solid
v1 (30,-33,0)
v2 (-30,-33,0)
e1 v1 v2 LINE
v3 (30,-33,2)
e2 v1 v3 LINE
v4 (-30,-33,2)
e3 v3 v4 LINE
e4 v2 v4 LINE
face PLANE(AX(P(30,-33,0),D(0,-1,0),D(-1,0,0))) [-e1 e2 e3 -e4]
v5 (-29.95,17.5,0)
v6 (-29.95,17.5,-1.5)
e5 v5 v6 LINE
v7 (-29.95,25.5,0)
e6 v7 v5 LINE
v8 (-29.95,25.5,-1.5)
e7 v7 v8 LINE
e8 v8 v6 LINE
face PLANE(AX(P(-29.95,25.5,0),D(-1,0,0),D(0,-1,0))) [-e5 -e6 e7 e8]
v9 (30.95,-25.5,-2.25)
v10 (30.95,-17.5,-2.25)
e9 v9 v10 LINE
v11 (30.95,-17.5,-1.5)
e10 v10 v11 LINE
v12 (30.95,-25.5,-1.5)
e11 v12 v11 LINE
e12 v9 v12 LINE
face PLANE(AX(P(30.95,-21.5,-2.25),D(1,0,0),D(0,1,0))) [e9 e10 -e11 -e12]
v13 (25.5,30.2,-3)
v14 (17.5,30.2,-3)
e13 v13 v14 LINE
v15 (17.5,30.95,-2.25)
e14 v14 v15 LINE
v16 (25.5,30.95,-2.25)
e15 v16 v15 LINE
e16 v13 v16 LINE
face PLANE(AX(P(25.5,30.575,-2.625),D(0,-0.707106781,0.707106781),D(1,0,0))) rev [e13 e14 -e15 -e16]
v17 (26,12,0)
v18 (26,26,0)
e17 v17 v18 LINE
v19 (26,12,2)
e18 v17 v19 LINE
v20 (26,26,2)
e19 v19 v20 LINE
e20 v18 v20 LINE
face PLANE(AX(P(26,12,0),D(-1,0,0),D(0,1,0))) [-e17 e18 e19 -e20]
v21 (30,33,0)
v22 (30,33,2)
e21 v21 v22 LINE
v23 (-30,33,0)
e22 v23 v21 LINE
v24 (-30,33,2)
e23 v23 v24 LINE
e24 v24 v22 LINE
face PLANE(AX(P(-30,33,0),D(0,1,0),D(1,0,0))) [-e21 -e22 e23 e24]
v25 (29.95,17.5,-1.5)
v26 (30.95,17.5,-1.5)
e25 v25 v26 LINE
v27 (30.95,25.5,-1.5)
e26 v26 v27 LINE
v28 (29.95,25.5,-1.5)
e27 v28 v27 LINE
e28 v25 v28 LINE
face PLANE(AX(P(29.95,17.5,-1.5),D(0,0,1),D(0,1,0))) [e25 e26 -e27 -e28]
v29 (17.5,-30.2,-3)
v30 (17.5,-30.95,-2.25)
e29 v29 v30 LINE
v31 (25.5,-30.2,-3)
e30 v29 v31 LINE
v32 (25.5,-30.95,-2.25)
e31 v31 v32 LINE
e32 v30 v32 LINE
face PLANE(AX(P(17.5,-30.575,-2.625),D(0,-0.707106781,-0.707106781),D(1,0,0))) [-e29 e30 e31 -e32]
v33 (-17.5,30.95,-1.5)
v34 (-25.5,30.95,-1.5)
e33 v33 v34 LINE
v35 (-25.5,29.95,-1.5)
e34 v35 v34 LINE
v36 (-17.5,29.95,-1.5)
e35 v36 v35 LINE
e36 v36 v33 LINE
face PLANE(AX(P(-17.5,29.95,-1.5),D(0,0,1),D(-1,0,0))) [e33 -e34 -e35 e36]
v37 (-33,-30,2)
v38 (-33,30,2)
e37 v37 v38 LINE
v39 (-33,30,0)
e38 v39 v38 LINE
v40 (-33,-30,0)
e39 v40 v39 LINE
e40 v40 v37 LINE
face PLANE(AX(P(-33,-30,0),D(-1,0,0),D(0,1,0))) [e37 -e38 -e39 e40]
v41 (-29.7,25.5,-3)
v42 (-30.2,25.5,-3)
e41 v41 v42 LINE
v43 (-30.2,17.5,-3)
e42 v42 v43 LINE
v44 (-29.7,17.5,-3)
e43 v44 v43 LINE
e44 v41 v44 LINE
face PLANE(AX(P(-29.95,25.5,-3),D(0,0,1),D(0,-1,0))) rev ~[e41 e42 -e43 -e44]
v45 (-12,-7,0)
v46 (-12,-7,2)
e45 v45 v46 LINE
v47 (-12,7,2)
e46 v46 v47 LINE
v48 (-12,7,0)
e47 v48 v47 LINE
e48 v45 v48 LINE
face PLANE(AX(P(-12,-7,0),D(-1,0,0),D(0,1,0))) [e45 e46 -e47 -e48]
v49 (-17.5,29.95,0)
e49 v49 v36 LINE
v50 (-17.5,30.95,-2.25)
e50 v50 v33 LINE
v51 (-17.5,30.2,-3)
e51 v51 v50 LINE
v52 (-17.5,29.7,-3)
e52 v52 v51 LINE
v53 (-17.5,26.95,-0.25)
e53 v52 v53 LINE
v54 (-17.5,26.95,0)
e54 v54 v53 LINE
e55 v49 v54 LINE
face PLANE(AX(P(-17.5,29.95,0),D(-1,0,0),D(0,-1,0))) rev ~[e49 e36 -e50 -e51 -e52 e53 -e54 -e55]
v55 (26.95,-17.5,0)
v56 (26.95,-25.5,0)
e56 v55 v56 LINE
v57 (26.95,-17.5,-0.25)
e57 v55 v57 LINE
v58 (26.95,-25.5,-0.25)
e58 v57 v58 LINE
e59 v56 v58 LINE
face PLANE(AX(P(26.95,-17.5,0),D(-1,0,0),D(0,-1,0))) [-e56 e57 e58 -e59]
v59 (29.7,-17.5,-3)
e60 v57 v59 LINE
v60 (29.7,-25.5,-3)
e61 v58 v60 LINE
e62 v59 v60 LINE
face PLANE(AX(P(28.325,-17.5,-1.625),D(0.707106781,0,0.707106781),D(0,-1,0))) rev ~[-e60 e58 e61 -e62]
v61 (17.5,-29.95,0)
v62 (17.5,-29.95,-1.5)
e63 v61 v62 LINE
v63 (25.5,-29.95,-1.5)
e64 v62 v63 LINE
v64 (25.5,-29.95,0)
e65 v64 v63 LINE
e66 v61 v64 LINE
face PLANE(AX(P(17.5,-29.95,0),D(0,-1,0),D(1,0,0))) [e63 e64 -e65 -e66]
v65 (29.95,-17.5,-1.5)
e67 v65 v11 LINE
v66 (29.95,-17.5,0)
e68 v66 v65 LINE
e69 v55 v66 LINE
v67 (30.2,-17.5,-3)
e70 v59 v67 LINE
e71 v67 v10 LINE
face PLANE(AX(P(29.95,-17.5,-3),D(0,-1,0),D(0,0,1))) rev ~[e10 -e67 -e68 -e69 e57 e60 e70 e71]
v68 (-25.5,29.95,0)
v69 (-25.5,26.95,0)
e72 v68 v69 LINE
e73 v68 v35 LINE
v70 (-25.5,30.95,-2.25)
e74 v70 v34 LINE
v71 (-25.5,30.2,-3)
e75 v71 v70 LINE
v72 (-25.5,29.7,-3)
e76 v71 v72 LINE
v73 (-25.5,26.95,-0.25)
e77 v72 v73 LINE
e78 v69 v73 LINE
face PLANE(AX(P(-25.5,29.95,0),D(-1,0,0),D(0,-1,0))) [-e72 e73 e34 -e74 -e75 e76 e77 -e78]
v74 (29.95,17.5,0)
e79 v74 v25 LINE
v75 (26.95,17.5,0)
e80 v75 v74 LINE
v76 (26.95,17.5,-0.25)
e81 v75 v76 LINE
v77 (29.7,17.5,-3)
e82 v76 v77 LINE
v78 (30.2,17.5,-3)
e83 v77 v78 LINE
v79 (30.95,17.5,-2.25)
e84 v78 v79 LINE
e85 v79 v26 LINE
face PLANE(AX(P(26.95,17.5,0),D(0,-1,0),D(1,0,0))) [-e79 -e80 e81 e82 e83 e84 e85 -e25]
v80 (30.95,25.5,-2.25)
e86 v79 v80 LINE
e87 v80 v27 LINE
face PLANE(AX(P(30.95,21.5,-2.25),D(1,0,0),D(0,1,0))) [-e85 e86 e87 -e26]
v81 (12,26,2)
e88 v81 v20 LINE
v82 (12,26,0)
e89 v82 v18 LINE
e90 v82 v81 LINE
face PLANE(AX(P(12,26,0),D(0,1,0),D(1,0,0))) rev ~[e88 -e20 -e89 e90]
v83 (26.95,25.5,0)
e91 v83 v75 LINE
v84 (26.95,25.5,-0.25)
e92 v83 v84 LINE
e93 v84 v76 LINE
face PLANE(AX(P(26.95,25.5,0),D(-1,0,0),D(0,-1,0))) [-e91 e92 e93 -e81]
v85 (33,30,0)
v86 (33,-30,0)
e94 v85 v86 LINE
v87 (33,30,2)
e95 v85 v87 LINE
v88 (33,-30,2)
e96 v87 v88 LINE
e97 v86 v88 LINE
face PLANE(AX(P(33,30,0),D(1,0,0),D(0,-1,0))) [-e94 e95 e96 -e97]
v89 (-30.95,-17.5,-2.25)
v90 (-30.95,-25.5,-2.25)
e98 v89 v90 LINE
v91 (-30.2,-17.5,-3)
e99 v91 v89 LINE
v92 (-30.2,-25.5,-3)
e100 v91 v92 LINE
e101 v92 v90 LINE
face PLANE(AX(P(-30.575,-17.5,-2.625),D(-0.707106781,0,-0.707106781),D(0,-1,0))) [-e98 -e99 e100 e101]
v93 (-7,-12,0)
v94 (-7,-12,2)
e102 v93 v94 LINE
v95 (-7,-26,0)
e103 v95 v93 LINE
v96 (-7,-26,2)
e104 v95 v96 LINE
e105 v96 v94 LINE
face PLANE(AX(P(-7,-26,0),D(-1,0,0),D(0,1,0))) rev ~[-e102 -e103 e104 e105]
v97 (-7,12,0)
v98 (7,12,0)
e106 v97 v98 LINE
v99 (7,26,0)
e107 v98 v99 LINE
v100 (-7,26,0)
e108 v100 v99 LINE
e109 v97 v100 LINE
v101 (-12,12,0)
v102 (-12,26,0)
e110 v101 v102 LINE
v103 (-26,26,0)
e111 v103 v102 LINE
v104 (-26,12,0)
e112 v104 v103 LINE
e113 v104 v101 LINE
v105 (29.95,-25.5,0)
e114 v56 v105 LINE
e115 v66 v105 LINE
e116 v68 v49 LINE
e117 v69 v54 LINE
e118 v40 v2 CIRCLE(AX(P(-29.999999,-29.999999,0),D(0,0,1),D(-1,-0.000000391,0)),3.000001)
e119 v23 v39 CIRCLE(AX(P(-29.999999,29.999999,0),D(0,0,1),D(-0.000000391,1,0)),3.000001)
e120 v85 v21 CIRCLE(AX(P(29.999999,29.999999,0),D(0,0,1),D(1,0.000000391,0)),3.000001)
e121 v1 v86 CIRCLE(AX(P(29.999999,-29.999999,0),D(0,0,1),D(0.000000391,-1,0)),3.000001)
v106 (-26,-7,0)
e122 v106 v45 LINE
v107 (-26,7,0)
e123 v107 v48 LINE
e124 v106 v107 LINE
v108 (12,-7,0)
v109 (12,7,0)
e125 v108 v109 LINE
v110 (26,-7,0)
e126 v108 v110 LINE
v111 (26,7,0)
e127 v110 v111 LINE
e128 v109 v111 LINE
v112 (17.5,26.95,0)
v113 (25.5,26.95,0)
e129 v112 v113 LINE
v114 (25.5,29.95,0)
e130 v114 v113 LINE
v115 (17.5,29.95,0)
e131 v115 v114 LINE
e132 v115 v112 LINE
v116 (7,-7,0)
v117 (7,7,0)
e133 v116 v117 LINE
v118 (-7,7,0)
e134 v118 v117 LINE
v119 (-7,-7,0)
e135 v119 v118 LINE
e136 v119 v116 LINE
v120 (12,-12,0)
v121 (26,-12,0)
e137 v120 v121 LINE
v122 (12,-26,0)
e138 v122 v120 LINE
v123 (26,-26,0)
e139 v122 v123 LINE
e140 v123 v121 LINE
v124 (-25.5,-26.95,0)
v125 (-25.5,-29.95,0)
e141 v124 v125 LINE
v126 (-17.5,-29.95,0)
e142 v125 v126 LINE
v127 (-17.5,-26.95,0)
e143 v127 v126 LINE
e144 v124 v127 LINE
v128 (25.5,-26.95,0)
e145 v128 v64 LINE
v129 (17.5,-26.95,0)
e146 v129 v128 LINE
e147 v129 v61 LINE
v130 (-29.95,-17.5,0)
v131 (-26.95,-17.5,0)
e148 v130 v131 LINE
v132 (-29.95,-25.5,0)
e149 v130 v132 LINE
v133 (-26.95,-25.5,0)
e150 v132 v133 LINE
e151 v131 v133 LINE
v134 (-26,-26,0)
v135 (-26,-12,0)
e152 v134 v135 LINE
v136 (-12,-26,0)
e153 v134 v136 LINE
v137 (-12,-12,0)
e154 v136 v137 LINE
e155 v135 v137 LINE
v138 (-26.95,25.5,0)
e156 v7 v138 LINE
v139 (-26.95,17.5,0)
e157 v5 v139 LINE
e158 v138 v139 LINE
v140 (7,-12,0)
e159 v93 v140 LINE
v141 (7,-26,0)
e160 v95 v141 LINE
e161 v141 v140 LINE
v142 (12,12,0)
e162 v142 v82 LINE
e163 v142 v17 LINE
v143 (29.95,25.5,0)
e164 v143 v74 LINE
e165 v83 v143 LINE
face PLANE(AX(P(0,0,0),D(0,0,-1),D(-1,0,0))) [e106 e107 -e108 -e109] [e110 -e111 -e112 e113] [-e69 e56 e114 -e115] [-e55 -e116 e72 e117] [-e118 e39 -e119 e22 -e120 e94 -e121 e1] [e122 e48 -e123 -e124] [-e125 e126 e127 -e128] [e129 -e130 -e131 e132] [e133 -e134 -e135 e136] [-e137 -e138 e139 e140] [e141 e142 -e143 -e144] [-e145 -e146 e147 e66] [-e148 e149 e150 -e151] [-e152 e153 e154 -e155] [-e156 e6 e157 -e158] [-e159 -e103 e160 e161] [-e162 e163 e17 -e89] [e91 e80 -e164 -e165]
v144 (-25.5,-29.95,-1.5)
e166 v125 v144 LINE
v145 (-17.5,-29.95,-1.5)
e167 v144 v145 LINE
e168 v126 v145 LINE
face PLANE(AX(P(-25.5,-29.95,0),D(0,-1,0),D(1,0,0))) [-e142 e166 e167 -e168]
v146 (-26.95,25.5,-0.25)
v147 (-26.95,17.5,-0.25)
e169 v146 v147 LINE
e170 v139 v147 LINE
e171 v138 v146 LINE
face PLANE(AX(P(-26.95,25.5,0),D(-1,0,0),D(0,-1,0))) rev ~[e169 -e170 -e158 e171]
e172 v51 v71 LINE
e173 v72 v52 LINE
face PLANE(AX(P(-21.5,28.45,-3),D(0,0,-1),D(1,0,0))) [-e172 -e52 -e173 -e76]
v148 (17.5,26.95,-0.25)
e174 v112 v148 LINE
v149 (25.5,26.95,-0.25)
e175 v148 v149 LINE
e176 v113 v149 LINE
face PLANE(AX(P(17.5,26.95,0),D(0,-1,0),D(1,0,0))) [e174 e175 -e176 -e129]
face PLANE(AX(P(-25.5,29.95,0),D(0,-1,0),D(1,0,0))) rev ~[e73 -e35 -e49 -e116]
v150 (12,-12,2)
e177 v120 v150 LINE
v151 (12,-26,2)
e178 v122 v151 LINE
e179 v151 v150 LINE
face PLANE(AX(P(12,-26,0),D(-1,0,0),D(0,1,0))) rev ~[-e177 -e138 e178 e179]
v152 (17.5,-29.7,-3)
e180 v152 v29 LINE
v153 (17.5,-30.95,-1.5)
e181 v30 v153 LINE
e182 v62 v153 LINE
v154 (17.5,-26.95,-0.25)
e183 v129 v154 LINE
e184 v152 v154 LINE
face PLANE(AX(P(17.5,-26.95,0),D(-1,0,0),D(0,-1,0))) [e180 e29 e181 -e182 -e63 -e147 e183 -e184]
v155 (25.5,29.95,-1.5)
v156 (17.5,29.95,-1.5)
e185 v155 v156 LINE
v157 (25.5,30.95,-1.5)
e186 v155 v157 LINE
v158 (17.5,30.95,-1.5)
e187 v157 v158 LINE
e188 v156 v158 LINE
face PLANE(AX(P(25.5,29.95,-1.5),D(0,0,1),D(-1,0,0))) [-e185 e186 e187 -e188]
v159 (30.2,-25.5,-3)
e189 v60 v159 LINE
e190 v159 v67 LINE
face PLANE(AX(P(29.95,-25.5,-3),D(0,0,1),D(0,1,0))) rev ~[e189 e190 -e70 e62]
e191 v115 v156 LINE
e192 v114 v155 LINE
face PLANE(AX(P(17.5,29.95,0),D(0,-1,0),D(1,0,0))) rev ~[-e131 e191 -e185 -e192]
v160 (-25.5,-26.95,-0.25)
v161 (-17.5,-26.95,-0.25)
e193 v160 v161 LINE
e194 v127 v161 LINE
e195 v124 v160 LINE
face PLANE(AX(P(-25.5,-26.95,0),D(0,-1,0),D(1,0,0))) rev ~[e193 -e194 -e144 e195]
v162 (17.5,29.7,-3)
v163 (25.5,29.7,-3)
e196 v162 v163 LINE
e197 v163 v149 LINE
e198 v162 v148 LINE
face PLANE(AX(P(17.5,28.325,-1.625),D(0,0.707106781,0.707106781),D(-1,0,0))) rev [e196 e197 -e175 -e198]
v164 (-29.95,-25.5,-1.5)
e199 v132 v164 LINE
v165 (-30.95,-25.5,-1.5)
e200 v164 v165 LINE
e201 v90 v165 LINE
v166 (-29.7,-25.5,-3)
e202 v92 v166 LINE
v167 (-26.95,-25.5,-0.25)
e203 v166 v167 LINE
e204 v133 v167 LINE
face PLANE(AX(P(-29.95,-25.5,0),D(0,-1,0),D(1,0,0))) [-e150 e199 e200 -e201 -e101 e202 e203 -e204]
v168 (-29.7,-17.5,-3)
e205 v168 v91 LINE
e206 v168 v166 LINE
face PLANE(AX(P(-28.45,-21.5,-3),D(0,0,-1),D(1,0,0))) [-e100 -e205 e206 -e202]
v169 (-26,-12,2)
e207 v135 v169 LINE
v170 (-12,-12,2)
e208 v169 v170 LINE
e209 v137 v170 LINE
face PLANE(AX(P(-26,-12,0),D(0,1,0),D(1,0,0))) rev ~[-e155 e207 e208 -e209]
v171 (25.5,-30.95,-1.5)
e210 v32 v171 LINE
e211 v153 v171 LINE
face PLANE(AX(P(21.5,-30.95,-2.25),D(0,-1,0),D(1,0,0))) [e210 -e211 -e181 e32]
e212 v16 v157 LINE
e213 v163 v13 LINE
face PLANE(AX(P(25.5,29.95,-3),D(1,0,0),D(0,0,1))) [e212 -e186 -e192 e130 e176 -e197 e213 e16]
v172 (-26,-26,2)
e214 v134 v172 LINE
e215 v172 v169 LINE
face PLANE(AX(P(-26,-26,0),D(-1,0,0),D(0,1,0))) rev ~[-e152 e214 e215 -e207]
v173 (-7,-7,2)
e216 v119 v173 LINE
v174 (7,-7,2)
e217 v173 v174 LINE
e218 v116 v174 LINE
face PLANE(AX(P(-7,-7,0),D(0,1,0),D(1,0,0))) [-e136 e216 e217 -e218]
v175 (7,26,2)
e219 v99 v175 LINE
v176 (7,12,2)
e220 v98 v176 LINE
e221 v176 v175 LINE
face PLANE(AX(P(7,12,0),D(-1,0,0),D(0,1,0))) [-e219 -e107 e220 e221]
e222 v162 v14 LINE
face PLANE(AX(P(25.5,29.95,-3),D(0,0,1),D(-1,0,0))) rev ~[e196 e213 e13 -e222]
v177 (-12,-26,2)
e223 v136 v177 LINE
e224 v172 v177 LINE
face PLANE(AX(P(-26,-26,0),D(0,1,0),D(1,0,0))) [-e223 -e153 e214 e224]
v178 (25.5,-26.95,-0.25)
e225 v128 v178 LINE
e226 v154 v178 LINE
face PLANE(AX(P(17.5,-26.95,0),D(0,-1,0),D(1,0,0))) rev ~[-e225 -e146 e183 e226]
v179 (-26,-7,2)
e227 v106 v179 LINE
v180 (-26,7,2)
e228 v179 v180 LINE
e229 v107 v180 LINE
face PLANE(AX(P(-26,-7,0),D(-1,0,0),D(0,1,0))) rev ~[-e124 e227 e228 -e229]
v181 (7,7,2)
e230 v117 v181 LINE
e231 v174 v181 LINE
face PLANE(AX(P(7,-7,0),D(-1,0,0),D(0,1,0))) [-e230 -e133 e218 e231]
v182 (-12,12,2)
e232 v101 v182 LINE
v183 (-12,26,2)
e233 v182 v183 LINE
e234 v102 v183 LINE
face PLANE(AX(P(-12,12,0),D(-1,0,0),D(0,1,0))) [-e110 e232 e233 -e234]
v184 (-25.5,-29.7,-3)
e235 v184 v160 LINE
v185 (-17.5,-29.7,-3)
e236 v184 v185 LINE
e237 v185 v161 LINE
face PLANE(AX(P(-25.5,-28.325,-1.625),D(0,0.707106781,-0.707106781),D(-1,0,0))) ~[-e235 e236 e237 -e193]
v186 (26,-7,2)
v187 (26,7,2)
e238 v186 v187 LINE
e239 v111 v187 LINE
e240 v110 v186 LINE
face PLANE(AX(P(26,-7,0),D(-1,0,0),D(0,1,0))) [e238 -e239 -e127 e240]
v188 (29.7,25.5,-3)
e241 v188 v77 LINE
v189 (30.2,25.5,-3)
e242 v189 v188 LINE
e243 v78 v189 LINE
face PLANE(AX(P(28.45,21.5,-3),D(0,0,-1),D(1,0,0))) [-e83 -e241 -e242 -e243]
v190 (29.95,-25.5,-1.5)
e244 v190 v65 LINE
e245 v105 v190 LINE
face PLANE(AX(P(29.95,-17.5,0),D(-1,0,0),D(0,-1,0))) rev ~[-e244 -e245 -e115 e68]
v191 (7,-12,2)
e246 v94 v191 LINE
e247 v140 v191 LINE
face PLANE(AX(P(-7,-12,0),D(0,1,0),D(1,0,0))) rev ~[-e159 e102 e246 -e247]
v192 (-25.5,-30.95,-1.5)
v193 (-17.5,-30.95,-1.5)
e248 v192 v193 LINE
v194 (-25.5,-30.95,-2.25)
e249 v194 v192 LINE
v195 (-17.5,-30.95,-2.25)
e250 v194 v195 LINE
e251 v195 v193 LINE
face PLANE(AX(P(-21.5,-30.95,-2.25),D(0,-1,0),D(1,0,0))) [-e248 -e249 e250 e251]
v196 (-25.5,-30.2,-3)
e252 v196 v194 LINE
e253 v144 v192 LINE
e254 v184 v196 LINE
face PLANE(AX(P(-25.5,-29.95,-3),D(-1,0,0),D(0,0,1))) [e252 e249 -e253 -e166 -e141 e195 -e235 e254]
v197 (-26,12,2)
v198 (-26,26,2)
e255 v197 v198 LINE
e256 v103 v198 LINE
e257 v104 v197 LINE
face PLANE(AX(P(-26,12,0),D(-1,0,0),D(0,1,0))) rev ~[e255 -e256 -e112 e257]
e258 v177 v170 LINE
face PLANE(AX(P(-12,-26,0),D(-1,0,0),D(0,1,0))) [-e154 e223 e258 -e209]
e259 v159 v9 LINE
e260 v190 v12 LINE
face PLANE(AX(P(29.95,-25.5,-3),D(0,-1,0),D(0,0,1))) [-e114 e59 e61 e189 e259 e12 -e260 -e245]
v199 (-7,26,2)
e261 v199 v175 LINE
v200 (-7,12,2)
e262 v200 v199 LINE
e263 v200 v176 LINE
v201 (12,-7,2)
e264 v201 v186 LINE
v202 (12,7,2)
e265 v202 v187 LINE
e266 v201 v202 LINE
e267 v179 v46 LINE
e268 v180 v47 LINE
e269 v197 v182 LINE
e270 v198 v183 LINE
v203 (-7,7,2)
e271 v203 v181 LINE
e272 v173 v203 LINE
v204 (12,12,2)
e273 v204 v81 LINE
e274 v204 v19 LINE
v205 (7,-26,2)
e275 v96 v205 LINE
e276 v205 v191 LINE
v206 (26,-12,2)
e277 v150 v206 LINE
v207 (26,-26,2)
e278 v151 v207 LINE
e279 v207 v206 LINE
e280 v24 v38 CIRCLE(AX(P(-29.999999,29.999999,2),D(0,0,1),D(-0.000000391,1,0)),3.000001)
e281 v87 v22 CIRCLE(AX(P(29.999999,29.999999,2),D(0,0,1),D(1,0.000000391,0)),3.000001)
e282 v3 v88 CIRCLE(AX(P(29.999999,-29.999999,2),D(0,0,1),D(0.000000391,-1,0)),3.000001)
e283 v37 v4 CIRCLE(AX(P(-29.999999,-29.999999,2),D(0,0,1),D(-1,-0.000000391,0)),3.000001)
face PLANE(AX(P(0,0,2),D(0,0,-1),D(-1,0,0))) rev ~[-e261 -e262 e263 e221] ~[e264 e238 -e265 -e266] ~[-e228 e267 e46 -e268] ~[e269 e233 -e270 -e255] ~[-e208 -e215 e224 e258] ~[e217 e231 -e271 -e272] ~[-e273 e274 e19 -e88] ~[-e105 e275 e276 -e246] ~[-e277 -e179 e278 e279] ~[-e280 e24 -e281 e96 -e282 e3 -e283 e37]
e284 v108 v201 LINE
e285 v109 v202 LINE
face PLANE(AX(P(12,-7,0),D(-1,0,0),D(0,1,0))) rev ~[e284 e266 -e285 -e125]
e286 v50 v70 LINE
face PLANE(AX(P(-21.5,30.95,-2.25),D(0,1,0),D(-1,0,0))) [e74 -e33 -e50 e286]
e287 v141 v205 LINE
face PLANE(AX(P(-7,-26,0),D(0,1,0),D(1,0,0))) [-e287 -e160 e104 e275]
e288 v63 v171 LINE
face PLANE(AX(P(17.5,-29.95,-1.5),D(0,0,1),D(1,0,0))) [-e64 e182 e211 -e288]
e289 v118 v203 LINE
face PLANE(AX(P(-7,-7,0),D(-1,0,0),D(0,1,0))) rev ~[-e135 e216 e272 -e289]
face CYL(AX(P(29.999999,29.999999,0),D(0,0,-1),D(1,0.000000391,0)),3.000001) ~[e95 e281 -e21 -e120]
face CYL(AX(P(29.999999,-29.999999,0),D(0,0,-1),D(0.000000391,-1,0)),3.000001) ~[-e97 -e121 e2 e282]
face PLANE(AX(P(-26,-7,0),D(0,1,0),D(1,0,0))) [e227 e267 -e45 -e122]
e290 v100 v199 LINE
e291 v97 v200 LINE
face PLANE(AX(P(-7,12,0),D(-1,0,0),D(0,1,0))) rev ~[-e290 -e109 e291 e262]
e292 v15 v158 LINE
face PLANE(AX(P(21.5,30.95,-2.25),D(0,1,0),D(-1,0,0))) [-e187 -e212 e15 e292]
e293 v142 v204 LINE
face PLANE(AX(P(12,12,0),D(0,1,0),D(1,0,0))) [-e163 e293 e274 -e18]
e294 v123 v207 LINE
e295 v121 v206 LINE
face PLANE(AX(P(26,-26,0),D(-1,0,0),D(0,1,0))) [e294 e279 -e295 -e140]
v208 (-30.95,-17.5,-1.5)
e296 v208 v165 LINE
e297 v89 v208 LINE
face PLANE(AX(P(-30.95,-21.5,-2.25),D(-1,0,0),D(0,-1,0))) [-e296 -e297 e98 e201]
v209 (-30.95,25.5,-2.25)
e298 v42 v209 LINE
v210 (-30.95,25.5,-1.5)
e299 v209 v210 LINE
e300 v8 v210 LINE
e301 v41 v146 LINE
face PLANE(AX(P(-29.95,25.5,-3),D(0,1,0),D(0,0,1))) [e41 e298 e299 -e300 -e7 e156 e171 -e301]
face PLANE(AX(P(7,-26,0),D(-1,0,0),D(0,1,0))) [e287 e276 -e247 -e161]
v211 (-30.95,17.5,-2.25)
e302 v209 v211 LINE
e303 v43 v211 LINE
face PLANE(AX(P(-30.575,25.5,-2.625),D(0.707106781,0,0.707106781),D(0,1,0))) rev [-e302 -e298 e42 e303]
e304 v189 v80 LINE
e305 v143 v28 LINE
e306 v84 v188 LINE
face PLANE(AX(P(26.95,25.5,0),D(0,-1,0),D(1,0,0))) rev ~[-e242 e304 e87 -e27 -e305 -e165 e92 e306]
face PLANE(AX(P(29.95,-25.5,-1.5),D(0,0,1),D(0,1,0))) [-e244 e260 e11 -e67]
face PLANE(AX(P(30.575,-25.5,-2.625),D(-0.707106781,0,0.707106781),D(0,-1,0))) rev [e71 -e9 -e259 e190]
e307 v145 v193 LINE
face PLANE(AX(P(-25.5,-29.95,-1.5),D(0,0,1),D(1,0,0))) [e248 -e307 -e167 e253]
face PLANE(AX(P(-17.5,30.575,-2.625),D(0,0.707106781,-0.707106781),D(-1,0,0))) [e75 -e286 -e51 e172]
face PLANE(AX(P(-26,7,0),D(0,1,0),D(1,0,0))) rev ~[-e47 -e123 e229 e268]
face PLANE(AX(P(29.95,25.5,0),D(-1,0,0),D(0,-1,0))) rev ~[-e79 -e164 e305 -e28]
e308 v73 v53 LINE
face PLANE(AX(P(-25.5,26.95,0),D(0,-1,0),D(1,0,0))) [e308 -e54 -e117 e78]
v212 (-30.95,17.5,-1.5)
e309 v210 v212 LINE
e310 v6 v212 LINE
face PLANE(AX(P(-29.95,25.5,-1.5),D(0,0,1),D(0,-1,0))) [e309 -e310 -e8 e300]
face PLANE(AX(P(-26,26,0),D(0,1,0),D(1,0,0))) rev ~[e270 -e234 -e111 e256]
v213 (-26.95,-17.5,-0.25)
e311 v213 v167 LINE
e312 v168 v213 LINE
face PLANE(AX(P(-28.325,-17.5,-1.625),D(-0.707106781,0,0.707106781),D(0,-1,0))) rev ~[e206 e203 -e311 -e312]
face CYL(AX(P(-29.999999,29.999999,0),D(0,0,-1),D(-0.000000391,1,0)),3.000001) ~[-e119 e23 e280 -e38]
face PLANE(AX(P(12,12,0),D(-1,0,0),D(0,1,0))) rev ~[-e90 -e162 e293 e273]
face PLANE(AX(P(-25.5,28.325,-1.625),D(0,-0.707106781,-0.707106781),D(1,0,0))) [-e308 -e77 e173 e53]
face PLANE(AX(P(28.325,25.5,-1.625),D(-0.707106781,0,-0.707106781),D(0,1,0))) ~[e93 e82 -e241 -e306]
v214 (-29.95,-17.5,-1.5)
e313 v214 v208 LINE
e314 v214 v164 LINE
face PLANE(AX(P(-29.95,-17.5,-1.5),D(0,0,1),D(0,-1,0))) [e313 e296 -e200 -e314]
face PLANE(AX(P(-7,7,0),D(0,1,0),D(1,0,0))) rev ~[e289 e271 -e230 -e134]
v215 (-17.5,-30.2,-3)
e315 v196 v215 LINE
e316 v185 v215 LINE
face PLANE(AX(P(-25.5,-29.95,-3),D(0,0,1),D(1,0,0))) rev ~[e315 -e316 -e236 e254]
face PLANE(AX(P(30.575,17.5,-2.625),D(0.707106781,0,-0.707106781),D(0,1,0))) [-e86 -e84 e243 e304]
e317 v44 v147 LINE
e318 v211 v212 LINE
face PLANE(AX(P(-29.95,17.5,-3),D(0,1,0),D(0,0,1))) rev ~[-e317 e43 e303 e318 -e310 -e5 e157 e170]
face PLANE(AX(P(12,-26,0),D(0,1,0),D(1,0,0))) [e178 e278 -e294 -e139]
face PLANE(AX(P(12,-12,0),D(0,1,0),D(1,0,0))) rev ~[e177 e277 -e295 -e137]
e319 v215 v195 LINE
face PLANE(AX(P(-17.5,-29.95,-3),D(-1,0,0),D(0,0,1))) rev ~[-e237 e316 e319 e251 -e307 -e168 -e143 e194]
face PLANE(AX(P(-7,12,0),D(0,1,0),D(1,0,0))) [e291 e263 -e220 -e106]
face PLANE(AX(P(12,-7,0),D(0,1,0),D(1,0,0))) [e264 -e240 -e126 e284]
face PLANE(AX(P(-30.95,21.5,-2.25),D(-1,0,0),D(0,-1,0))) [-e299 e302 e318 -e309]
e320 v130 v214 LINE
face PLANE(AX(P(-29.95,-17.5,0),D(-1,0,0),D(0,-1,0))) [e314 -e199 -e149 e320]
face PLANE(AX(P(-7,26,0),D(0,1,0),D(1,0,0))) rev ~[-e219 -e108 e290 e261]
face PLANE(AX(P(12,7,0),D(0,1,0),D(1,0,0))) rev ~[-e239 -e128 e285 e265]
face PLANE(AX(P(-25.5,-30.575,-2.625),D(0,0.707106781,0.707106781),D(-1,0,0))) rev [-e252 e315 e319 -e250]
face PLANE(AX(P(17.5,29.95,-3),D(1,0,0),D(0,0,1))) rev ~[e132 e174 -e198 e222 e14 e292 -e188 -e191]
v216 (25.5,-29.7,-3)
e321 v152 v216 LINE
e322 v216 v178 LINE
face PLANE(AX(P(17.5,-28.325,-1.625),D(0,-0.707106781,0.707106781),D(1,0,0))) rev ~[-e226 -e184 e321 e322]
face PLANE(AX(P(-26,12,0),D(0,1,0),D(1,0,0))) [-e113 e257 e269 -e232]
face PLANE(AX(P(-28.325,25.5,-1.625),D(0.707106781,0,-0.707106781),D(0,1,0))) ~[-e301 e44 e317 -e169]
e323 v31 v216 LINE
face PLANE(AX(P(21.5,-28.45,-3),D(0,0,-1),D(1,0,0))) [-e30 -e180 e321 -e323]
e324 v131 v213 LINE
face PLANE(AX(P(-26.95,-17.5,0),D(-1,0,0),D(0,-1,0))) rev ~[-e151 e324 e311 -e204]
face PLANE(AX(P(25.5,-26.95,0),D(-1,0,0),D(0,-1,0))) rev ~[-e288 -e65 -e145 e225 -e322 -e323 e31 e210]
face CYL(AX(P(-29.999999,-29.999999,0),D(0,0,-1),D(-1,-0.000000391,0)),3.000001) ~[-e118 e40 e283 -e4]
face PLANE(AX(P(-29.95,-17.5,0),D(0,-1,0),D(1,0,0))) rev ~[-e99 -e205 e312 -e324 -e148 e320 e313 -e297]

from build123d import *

# Parameters (mm, degrees)
SKETCH_W        = 14
SKETCH_H        = 14
PAD_DEPTH       = 2
SKETCH004_W     = 8
SKETCH004_H     = 3
SKETCH004_W_2   = 3
SKETCH004_H_2   = 8
PAD003_DEPTH    = 3
SKETCH005_W     = 8
SKETCH005_H     = 1.5
PAD004_DEPTH    = 1
SKETCH008_W     = 8
SKETCH008_H     = 1.5
PAD005_DEPTH    = 1
SKETCH007_W     = 8
SKETCH007_H     = 1.5
PAD006_DEPTH    = 1
SKETCH006_W     = 8
SKETCH006_H     = 1.5
PAD007_DEPTH    = 1
CHAMFER_SIZE    = 2.75
CHAMFER001_SIZE = 0.75


with BuildPart() as part:
    # Sketch → Pad (new body)
    with BuildSketch(Plane.XY):
        with BuildLine():
            Line((-30, 33), (30, 33))
            ThreePointArc((33, 30), (32.12132, 32.12132), (30, 33))
            Line((33, 30), (33, -30))
            ThreePointArc((30, -33), (32.12132, -32.12132), (33, -30))
            Line((30, -33), (-30, -33))
            ThreePointArc((-33, -30), (-32.12132, -32.12132), (-30, -33))
            Line((-33, -30), (-33, 30))
            ThreePointArc((-30, 33), (-32.12132, 32.12132), (-33, 30))
        make_face()
        Rectangle(SKETCH_W, SKETCH_H, mode=Mode.SUBTRACT)
        with Locations((19, 0)):
            Rectangle(SKETCH_W, SKETCH_H, mode=Mode.SUBTRACT)
        with Locations((-19, 0)):
            Rectangle(SKETCH_W, SKETCH_H, mode=Mode.SUBTRACT)
        with Locations((0, 19)):
            Rectangle(SKETCH_W, SKETCH_H, mode=Mode.SUBTRACT)
        with Locations((19, 19)):
            Rectangle(SKETCH_W, SKETCH_H, mode=Mode.SUBTRACT)
        with Locations((-19, 19)):
            Rectangle(SKETCH_W, SKETCH_H, mode=Mode.SUBTRACT)
        with Locations((0, -19)):
            Rectangle(SKETCH_W, SKETCH_H, mode=Mode.SUBTRACT)
        with Locations((19, -19)):
            Rectangle(SKETCH_W, SKETCH_H, mode=Mode.SUBTRACT)
        with Locations((-19, -19)):
            Rectangle(SKETCH_W, SKETCH_H, mode=Mode.SUBTRACT)
    extrude(amount=PAD_DEPTH)

    # Sketch004 (on DatumPlane) → Pad003 (join)
    with BuildSketch(Plane(origin=(0, 0, 0), x_dir=(1, 0, 0), z_dir=(0, 0, -1))):
        with Locations((-21.5, -28.45)):
            Rectangle(SKETCH004_W, SKETCH004_H)
        with Locations((-28.45, -21.5)):
            Rectangle(SKETCH004_W_2, SKETCH004_H_2)
        with Locations((21.5, -28.45)):
            Rectangle(SKETCH004_W, SKETCH004_H)
        with Locations((28.45, -21.5)):
            Rectangle(SKETCH004_W_2, SKETCH004_H_2)
        with Locations((-28.45, 21.5)):
            Rectangle(SKETCH004_W_2, SKETCH004_H_2)
        with Locations((28.45, 21.5)):
            Rectangle(SKETCH004_W_2, SKETCH004_H_2)
        with Locations((-21.5, 28.45)):
            Rectangle(SKETCH004_W, SKETCH004_H)
        with Locations((21.5, 28.45)):
            Rectangle(SKETCH004_W, SKETCH004_H)
    extrude(amount=PAD003_DEPTH)

    # Sketch005 (on Face43 of Pad003) → Pad004 (join)
    with BuildSketch(Plane.YZ.offset(29.95)):
        with Locations((-21.5, -2.25)):
            Rectangle(SKETCH005_W, SKETCH005_H)
        with Locations((21.5, -2.25)):
            Rectangle(SKETCH005_W, SKETCH005_H)
    extrude(amount=PAD004_DEPTH)

    # Sketch008 (on Face11 of Pad003) → Pad005 (join)
    with BuildSketch(Plane.XZ.offset(29.95)):
        with Locations((-21.5, -2.25)):
            Rectangle(SKETCH008_W, SKETCH008_H)
        with Locations((21.5, -2.25)):
            Rectangle(SKETCH008_W, SKETCH008_H)
    extrude(amount=PAD005_DEPTH)

    # Sketch007 (on Face51 of Pad003) → Pad006 (join)
    with BuildSketch(Plane(origin=(-29.95, 0, 0), x_dir=(0, -1, 0), z_dir=(-1, 0, 0))):
        with Locations((-21.5, -2.25)):
            Rectangle(SKETCH007_W, SKETCH007_H)
        with Locations((21.5, -2.25)):
            Rectangle(SKETCH007_W, SKETCH007_H)
    extrude(amount=PAD006_DEPTH)

    # Sketch006 (on Face75 of Pad003) → Pad007 (join)
    with BuildSketch(Plane(origin=(0, 29.95, 0), x_dir=(-1, 0, 0), z_dir=(0, 1, 0))):
        with Locations((-21.5, -2.25)):
            Rectangle(SKETCH006_W, SKETCH006_H)
        with Locations((21.5, -2.25)):
            Rectangle(SKETCH006_W, SKETCH006_H)
    extrude(amount=PAD007_DEPTH)

    # Chamfer
    chamfer_edges = [part.edges().sort_by_distance(p)[0] for p in [
        (-26.95, -21.5, -3),
        (-21.5, -26.95, -3),
        (21.5, -26.95, -3),
        (26.95, -21.5, -3),
        (-26.95, 21.5, -3),
        (-21.5, 26.95, -3),
        (21.5, 26.95, -3),
        (26.95, 21.5, -3),
    ]]
    chamfer(chamfer_edges, length=CHAMFER_SIZE)

    # Chamfer001
    chamfer001_edges = [part.edges().sort_by_distance(p)[0] for p in [
        (30.95, 21.5, -3),
        (21.5, 30.95, -3),
        (-21.5, 30.95, -3),
        (-30.95, 21.5, -3),
        (-30.95, -21.5, -3),
        (-21.5, -30.95, -3),
        (21.5, -30.95, -3),
        (30.95, -21.5, -3),
    ]]
    chamfer(chamfer001_edges, length=CHAMFER001_SIZE)


solid = part.part
